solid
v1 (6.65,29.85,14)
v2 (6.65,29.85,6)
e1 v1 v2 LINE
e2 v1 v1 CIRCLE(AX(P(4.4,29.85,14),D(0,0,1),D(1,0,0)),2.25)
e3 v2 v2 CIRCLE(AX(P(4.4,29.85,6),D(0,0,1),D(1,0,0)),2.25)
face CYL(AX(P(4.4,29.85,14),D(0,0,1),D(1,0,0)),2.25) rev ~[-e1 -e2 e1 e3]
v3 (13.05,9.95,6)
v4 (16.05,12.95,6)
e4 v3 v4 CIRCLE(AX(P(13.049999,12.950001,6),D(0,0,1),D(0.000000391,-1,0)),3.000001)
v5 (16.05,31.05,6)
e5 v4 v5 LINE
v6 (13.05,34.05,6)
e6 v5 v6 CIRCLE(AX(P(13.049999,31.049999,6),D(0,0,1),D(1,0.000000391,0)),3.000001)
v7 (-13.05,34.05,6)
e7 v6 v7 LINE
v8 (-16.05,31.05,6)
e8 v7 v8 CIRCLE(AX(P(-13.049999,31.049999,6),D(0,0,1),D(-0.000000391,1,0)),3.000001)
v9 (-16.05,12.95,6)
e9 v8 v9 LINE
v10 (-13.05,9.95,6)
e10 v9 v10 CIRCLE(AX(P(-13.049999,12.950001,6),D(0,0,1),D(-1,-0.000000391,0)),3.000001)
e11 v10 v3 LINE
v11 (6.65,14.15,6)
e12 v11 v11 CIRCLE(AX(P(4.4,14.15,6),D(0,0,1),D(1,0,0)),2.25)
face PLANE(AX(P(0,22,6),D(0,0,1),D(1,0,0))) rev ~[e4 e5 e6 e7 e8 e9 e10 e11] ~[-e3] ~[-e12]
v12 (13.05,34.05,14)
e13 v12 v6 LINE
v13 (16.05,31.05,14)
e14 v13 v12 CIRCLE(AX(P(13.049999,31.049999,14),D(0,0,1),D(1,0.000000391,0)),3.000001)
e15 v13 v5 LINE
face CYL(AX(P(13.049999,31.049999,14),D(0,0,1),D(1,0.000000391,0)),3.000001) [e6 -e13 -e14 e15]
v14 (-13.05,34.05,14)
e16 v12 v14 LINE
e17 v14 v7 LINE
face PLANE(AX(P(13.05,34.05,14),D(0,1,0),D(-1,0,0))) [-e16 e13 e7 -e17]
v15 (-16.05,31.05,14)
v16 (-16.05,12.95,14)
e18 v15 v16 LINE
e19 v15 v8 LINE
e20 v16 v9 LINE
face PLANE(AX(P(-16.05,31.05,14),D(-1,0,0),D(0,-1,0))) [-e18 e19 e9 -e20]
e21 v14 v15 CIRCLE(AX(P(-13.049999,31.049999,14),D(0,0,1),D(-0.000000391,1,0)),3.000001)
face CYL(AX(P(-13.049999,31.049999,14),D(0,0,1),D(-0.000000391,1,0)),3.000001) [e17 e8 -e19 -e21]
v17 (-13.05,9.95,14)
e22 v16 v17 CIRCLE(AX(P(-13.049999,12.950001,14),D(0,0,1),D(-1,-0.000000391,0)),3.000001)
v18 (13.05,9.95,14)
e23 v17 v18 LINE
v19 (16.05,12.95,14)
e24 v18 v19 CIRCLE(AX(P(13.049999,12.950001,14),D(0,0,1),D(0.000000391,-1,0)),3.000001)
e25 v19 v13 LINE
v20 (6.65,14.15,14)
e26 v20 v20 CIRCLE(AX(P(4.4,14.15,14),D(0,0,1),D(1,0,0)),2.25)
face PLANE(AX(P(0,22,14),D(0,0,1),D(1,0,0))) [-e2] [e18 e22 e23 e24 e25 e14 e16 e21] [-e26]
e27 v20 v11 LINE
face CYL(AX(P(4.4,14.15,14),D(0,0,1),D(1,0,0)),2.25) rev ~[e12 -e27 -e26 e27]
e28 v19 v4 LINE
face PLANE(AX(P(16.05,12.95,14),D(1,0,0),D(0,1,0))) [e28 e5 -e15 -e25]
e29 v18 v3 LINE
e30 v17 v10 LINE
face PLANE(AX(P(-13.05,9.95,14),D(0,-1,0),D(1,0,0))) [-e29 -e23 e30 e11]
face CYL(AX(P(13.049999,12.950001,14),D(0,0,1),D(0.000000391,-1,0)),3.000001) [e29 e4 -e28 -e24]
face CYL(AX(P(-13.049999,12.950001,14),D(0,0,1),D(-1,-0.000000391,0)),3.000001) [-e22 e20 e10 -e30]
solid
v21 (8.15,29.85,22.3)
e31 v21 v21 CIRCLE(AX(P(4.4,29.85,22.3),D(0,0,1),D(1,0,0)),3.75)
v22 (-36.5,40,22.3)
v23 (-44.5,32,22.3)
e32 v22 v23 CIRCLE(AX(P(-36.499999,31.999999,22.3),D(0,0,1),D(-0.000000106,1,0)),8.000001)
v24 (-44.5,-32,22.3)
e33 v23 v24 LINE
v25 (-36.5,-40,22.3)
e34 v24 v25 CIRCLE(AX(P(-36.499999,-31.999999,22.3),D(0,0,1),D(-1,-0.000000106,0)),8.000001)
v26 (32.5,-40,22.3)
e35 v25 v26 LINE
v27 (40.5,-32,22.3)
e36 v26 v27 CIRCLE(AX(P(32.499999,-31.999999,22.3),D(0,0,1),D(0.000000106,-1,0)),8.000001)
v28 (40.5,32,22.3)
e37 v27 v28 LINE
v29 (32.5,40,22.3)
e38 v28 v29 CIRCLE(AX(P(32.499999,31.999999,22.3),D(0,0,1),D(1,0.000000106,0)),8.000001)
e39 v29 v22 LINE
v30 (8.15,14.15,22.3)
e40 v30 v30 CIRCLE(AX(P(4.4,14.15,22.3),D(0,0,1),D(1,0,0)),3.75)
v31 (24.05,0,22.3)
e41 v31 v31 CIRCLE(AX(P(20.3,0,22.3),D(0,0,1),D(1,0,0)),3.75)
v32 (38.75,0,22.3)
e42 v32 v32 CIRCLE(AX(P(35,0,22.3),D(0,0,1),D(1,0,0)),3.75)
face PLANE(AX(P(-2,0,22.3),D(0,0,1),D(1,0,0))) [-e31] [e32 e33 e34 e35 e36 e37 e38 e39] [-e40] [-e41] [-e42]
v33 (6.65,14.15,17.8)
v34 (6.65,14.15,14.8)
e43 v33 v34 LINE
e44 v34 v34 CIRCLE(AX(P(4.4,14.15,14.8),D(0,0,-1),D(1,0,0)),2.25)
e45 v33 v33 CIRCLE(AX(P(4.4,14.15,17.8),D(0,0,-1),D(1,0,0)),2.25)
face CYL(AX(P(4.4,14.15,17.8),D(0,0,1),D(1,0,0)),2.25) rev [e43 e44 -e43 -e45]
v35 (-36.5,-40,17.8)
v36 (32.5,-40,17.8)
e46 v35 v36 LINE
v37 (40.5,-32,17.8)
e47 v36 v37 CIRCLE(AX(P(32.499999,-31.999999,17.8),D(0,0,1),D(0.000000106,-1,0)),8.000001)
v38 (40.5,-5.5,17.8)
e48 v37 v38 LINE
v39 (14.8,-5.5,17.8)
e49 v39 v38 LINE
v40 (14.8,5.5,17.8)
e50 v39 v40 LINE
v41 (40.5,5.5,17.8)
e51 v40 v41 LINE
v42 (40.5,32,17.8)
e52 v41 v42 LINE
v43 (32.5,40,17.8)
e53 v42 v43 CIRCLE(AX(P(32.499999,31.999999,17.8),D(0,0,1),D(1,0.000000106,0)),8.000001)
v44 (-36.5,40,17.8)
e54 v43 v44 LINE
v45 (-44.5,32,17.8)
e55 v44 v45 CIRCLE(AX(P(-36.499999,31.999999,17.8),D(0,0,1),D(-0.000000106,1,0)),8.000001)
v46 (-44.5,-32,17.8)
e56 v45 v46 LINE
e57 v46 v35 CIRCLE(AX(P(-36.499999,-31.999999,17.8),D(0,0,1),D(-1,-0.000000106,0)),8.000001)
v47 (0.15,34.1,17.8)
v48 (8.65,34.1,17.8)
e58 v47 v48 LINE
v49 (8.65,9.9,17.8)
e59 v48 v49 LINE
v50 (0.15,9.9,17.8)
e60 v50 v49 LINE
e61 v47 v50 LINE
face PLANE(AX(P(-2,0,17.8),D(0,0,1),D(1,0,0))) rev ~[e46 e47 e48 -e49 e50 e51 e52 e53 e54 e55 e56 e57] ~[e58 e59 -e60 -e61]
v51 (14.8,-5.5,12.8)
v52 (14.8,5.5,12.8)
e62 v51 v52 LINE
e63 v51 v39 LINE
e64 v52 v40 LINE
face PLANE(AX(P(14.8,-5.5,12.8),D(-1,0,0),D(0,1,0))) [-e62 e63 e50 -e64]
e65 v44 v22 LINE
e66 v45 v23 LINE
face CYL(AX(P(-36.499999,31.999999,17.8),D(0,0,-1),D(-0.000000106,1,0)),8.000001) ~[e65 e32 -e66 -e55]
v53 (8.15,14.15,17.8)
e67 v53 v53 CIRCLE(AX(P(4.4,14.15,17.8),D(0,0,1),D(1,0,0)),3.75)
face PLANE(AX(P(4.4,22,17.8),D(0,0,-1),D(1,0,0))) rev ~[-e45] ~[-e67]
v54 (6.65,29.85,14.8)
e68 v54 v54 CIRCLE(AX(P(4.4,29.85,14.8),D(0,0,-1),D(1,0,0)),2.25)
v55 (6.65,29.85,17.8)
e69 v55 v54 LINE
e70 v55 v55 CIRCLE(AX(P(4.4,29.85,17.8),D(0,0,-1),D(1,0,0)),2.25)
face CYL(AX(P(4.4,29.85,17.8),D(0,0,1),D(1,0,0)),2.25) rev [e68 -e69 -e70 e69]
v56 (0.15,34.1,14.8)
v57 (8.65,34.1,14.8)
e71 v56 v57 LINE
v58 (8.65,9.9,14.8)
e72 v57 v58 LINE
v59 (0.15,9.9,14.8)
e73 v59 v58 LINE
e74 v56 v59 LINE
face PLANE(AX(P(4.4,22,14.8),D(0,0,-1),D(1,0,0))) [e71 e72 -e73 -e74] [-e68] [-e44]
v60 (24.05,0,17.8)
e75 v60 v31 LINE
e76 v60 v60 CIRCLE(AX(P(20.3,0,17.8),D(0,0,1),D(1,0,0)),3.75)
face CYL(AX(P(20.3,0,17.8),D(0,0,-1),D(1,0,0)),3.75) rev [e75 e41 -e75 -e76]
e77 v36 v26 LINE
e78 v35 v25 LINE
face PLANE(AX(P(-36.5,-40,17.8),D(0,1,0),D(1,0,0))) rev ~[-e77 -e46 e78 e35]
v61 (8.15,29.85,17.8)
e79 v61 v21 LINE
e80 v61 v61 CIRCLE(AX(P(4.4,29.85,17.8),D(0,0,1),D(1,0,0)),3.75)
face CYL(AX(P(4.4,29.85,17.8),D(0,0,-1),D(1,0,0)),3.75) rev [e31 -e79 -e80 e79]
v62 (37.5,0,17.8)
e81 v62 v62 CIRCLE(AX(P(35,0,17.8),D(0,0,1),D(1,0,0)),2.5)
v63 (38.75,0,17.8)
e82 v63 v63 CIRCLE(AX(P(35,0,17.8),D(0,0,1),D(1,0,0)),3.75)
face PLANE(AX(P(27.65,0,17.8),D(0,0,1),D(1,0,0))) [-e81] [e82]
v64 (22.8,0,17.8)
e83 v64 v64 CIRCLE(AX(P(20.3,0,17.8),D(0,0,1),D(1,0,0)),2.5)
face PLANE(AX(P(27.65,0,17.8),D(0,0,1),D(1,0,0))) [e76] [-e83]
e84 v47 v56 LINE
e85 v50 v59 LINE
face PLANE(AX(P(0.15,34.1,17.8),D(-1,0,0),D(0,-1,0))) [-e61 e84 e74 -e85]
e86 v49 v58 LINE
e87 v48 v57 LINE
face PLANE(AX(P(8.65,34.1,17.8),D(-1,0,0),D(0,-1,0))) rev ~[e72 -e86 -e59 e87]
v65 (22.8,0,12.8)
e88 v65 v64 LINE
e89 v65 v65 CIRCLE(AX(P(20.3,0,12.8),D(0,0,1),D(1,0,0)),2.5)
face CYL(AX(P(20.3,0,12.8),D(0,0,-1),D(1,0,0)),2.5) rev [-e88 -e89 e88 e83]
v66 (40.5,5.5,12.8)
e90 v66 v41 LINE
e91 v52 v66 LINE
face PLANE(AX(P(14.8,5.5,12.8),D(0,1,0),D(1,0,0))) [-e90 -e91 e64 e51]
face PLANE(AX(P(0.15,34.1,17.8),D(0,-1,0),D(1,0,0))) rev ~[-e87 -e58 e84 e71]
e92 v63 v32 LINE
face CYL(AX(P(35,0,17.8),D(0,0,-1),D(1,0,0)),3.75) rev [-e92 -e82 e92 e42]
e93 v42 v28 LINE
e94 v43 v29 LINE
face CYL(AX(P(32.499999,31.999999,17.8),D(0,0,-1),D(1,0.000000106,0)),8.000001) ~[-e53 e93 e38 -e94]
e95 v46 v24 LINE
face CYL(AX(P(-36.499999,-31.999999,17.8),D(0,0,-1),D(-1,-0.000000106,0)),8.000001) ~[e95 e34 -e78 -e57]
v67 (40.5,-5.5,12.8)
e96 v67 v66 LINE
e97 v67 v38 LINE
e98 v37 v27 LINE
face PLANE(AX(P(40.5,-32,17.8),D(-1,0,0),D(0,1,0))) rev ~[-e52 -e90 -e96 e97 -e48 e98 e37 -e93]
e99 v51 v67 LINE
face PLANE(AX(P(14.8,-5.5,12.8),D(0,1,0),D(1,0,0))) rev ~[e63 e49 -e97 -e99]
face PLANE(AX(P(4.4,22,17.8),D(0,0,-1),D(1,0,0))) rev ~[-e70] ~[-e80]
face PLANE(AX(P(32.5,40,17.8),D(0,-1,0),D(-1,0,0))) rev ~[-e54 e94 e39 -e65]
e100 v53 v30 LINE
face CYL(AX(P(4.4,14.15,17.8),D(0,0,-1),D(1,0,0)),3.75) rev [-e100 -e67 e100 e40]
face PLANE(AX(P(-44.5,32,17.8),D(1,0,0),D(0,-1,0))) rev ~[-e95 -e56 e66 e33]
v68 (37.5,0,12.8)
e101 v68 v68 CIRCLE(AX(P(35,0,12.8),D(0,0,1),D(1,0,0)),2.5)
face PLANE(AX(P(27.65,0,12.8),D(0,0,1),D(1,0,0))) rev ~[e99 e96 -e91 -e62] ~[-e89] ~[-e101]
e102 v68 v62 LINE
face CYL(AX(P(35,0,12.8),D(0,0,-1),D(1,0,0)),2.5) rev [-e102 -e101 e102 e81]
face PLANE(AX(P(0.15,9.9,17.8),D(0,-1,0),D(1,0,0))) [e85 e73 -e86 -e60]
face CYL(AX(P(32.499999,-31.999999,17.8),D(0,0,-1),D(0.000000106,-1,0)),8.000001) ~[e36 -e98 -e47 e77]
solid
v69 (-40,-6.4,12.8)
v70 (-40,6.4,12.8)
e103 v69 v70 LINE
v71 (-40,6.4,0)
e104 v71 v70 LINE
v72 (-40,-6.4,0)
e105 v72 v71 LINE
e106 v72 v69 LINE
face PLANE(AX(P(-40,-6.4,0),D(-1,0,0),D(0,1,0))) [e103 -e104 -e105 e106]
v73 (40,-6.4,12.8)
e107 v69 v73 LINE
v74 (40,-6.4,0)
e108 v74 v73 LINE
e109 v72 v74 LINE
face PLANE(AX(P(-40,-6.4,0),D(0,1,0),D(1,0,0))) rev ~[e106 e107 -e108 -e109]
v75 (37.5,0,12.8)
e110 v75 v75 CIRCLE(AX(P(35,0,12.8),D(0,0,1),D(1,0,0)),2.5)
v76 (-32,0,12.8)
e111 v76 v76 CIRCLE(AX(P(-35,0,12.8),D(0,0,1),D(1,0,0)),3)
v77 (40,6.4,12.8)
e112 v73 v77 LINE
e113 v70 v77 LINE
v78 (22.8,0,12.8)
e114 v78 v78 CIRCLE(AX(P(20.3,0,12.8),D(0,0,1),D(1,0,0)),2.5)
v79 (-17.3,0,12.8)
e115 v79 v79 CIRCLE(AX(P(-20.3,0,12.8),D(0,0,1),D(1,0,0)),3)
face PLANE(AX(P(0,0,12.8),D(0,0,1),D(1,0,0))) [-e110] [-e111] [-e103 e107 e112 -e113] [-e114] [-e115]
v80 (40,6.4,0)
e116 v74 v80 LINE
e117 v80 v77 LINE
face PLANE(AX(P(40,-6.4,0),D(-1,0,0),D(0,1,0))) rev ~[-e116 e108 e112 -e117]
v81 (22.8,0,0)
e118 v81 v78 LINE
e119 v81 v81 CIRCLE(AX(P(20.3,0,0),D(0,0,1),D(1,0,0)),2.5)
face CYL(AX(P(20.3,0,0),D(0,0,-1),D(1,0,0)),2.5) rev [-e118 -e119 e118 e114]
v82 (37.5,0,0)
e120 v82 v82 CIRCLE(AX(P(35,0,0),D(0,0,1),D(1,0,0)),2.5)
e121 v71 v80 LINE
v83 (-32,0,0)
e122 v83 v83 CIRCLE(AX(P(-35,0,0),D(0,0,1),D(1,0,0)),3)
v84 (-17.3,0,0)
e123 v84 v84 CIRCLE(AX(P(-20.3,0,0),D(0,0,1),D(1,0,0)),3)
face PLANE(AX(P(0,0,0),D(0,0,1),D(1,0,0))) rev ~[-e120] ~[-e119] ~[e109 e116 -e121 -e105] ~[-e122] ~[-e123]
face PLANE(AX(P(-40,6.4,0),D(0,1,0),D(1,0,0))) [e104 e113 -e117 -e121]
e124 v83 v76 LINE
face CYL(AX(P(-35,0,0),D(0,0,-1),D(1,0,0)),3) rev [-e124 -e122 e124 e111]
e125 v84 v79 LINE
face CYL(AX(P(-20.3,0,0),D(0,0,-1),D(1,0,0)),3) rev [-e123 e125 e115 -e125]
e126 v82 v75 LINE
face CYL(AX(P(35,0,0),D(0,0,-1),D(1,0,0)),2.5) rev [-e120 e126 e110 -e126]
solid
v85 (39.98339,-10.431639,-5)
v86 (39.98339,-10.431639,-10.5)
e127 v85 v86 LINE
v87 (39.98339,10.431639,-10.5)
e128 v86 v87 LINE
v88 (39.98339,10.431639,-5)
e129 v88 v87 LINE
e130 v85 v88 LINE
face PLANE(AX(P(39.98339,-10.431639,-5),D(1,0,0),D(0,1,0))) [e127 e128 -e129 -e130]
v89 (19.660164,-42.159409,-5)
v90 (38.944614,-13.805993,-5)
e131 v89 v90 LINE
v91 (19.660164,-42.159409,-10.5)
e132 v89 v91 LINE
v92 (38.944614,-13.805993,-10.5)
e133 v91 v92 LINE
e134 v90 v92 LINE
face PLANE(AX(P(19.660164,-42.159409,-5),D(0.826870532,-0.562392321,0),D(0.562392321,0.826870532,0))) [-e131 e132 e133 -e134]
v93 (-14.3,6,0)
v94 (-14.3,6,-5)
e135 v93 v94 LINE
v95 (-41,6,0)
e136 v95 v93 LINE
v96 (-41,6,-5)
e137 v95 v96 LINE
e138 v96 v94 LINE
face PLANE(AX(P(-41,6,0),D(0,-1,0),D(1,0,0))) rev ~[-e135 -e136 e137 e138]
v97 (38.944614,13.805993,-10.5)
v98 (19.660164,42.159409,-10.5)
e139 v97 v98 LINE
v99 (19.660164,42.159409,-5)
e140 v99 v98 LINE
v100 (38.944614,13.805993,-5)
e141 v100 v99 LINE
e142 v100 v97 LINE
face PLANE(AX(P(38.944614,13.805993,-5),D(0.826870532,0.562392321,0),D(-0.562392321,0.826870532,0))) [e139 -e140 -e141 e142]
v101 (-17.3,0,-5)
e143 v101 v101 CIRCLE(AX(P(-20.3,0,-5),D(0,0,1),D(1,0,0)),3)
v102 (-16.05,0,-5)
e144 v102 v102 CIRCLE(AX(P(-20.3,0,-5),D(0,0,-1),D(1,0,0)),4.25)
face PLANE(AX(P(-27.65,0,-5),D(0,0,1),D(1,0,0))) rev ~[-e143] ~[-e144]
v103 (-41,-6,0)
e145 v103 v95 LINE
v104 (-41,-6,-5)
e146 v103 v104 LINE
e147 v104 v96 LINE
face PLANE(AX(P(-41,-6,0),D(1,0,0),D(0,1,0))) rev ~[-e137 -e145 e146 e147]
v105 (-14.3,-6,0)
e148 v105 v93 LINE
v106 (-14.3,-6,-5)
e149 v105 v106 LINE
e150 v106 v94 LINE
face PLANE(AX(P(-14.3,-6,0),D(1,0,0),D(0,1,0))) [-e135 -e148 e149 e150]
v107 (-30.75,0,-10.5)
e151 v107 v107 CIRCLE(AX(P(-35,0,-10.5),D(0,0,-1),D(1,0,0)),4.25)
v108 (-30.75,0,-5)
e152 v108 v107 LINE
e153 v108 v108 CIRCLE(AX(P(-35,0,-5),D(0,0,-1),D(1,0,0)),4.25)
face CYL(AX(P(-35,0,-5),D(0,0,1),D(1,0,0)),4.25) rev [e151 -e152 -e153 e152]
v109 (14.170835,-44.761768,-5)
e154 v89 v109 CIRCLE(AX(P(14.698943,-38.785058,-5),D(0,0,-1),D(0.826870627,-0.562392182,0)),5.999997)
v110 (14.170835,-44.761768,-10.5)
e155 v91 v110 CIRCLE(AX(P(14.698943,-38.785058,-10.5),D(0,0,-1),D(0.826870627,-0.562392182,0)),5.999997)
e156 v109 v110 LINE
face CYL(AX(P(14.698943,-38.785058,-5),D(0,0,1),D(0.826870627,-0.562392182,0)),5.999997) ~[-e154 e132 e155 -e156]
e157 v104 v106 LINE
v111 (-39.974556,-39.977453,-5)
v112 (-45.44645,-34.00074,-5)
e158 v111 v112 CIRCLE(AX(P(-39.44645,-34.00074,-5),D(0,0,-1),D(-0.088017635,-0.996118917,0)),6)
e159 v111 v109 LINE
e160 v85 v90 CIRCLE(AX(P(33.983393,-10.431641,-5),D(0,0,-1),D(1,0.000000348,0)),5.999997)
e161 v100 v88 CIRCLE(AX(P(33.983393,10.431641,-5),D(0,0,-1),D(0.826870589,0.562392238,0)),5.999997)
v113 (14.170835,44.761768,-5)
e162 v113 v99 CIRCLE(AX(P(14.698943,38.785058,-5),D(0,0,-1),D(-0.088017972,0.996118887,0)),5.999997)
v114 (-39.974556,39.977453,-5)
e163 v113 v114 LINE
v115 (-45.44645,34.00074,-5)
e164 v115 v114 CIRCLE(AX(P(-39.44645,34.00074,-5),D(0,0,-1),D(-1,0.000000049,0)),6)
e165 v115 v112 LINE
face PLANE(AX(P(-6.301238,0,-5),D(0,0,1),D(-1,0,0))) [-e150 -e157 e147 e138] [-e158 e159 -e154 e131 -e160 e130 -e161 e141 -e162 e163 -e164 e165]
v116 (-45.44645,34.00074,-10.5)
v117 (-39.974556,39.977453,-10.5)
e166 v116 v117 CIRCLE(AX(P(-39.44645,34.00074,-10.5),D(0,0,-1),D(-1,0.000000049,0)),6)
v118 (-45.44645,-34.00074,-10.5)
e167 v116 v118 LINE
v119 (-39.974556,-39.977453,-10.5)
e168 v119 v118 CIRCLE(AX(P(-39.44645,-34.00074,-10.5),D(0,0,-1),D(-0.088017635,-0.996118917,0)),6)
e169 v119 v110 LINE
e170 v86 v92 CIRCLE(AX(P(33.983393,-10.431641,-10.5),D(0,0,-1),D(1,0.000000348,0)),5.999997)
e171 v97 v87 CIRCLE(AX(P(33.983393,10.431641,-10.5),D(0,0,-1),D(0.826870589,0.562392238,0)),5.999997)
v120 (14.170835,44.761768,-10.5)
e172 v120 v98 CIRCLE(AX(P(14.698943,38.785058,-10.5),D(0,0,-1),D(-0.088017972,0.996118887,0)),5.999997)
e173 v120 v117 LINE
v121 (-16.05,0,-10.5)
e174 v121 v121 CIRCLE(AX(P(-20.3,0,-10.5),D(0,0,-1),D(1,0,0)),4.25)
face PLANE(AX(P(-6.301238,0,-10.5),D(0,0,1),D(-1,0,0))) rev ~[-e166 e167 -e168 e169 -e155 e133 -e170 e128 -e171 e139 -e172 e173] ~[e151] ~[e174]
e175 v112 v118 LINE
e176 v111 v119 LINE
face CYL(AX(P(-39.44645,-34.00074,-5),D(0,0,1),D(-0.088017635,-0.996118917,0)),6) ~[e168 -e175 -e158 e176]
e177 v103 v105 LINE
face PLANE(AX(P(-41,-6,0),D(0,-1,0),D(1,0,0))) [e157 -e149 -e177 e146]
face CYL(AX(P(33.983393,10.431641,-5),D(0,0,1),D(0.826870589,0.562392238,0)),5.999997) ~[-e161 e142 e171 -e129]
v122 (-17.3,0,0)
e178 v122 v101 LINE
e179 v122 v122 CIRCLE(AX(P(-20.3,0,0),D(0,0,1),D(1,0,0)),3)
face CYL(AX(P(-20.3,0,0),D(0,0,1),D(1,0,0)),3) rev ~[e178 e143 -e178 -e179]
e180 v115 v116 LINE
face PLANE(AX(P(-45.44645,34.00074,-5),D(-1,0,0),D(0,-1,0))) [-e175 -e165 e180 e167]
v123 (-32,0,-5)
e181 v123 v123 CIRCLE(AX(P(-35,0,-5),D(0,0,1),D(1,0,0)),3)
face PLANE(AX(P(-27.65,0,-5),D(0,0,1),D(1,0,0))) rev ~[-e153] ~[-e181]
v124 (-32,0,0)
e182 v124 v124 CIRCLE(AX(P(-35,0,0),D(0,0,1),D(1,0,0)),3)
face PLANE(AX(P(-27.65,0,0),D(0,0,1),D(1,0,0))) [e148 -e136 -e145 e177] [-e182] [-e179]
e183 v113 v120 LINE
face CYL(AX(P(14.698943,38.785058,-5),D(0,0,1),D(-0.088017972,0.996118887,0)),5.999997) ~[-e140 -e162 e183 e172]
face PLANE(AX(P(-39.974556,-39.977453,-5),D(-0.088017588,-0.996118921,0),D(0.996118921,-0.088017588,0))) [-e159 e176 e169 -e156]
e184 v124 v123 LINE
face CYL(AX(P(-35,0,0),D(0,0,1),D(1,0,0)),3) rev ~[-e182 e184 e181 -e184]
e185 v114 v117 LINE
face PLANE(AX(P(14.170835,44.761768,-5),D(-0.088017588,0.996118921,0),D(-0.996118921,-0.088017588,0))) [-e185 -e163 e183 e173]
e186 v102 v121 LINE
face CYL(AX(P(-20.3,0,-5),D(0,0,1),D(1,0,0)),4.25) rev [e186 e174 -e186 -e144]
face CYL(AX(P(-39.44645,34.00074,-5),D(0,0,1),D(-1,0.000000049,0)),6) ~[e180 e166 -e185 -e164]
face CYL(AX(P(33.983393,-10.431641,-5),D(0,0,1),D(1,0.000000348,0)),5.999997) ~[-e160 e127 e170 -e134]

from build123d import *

# Parameters (mm, degrees)
SKETCH_W     = 80
SKETCH_H     = 12.8
SKETCH_R     = 3
SKETCH_R_2   = 2.5
PAD_DEPTH    = 12.8
SKETCH001_W  = 26.7
SKETCH001_H  = 12
SKETCH001_R  = 3
PAD001_DEPTH = 5
SKETCH002_R  = 4.25
PAD002_DEPTH = 5.5
SKETCH003_W  = 25.7
SKETCH003_H  = 11
SKETCH003_R  = 2.5
PAD003_DEPTH = 5
SKETCH004_R  = 3.75
PAD004_DEPTH = 4.5
SKETCH006_W  = 8.5
SKETCH006_H  = 24.2
SKETCH006_R  = 2.25
PAD006_DEPTH = 3
SKETCH005_R  = 2.25
PAD005_DEPTH = 8


with BuildPart() as load_cell:
    # Sketch → Pad (new body)
    with BuildSketch(Plane.XY):
        Rectangle(SKETCH_W, SKETCH_H)
        with Locations((-35, 0)):
            Circle(SKETCH_R, mode=Mode.SUBTRACT)
        with Locations((-20.3, 0)):
            Circle(SKETCH_R, mode=Mode.SUBTRACT)
        with Locations((20.3, 0)):
            Circle(SKETCH_R_2, mode=Mode.SUBTRACT)
        with Locations((35, 0)):
            Circle(SKETCH_R_2, mode=Mode.SUBTRACT)
    extrude(amount=PAD_DEPTH)


with BuildPart() as bottom:
    # Sketch001 → Pad001 (new body)
    with BuildSketch(Plane.XY):
        with Locations((-27.65, 0)):
            Rectangle(SKETCH001_W, SKETCH001_H)
        with Locations((-35, 0)):
            Circle(SKETCH001_R, mode=Mode.SUBTRACT)
        with Locations((-20.3, 0)):
            Circle(SKETCH001_R, mode=Mode.SUBTRACT)
    extrude(amount=-PAD001_DEPTH)

    # Sketch002 (on Face8 of Pad001) → Pad002 (join)
    with BuildSketch(Plane(origin=(0, 0, -5), x_dir=(1, 0, 0), z_dir=(0, 0, -1))):
        with BuildLine():
            Line((-39.974556, 39.977453), (14.170835, 44.761768))
            ThreePointArc((19.660164, 42.159409), (17.269194, 44.20666), (14.170835, 44.761768))
            Line((19.660164, 42.159409), (38.944614, 13.805993))
            ThreePointArc((39.98339, 10.431639), (39.717819, 12.196952), (38.944614, 13.805993))
            Line((39.98339, 10.431639), (39.98339, -10.431639))
            ThreePointArc((38.944614, -13.805993), (39.717819, -12.196952), (39.98339, -10.431639))
            Line((38.944614, -13.805993), (19.660164, -42.159409))
            ThreePointArc((14.170835, -44.761768), (17.269194, -44.20666), (19.660164, -42.159409))
            Line((14.170835, -44.761768), (-39.974556, -39.977453))
            ThreePointArc((-45.44645, -34.00074), (-43.871867, -38.052367), (-39.974556, -39.977453))
            Line((-45.44645, -34.00074), (-45.44645, 34.00074))
            ThreePointArc((-39.974556, 39.977453), (-43.871867, 38.052367), (-45.44645, 34.00074))
        make_face()
        with Locations((-35, 0)):
            Circle(SKETCH002_R, mode=Mode.SUBTRACT)
        with Locations((-20.3, 0)):
            Circle(SKETCH002_R, mode=Mode.SUBTRACT)
    extrude(amount=PAD002_DEPTH)


with BuildPart() as top:
    # Sketch003 (on Face10 of ShapeBinder001) → Pad003 (new body)
    with BuildSketch(Plane.XY.offset(12.8)):
        with Locations((27.65, 0)):
            Rectangle(SKETCH003_W, SKETCH003_H)
        with Locations((35, 0)):
            Circle(SKETCH003_R, mode=Mode.SUBTRACT)
        with Locations((20.3, 0)):
            Circle(SKETCH003_R, mode=Mode.SUBTRACT)
    extrude(amount=PAD003_DEPTH)

    # Sketch004 (on Face8 of Pad003) → Pad004 (join)
    with BuildSketch(Plane.XY.offset(17.8)):
        with BuildLine():
            Line((40.5, 5.5), (40.5, 32))
            ThreePointArc((40.5, 32), (38.156854, 37.656854), (32.5, 40))
            Line((32.5, 40), (-36.5, 40))
            ThreePointArc((-36.5, 40), (-42.156854, 37.656854), (-44.5, 32))
            Line((-44.5, 32), (-44.5, -32))
            ThreePointArc((-44.5, -32), (-42.156854, -37.656854), (-36.5, -40))
            Line((-36.5, -40), (32.5, -40))
            ThreePointArc((32.5, -40), (38.156854, -37.656854), (40.5, -32))
            Line((40.5, -32), (40.5, -5.5))
            Line((40.5, 5.5), (40.5, -5.5))
        make_face()
        with Locations((35, 0)):
            Circle(SKETCH004_R, mode=Mode.SUBTRACT)
        with Locations((20.3, 0)):
            Circle(SKETCH004_R, mode=Mode.SUBTRACT)
        with Locations((4.4, 29.85)):
            Circle(SKETCH004_R, mode=Mode.SUBTRACT)
        with Locations((4.4, 14.15)):
            Circle(SKETCH004_R, mode=Mode.SUBTRACT)
    extrude(amount=PAD004_DEPTH)

    # Sketch006 (on Face5 of Pad004) → Pad006 (join)
    with BuildSketch(Plane(origin=(0, 0, 17.8), x_dir=(1, 0, 0), z_dir=(0, 0, -1))):
        with Locations((4.4, -22)):
            Rectangle(SKETCH006_W, SKETCH006_H)
        with Locations((4.4, -14.15)):
            Circle(SKETCH006_R, mode=Mode.SUBTRACT)
        with Locations((4.4, -29.85)):
            Circle(SKETCH006_R, mode=Mode.SUBTRACT)
    extrude(amount=PAD006_DEPTH)


with BuildPart() as weightunit:
    # Sketch005 → Pad005 (new body)
    with BuildSketch(Plane.XY):
        with BuildLine():
            Line((-13.05, -12.05), (13.05, -12.05))
            ThreePointArc((13.05, -12.05), (15.17132, -11.17132), (16.05, -9.05))
            Line((16.05, -9.05), (16.05, 9.05))
            ThreePointArc((16.05, 9.05), (15.17132, 11.17132), (13.05, 12.05))
            Line((13.05, 12.05), (-13.05, 12.05))
            ThreePointArc((-13.05, 12.05), (-15.17132, 11.17132), (-16.05, 9.05))
            Line((-16.05, 9.05), (-16.05, -9.05))
            ThreePointArc((-16.05, -9.05), (-15.17132, -11.17132), (-13.05, -12.05))
        make_face()
        with Locations((4.4, 7.85)):
            Circle(SKETCH005_R, mode=Mode.SUBTRACT)
        with Locations((4.4, -7.85)):
            Circle(SKETCH005_R, mode=Mode.SUBTRACT)
    extrude(amount=-PAD005_DEPTH)


with BuildPart() as weightunit_1:
    # Body003 placement: moved
    add(weightunit.part.moved(Location((0, 22, 14))))


solid = Compound([load_cell.part, bottom.part, top.part, weightunit_1.part])
